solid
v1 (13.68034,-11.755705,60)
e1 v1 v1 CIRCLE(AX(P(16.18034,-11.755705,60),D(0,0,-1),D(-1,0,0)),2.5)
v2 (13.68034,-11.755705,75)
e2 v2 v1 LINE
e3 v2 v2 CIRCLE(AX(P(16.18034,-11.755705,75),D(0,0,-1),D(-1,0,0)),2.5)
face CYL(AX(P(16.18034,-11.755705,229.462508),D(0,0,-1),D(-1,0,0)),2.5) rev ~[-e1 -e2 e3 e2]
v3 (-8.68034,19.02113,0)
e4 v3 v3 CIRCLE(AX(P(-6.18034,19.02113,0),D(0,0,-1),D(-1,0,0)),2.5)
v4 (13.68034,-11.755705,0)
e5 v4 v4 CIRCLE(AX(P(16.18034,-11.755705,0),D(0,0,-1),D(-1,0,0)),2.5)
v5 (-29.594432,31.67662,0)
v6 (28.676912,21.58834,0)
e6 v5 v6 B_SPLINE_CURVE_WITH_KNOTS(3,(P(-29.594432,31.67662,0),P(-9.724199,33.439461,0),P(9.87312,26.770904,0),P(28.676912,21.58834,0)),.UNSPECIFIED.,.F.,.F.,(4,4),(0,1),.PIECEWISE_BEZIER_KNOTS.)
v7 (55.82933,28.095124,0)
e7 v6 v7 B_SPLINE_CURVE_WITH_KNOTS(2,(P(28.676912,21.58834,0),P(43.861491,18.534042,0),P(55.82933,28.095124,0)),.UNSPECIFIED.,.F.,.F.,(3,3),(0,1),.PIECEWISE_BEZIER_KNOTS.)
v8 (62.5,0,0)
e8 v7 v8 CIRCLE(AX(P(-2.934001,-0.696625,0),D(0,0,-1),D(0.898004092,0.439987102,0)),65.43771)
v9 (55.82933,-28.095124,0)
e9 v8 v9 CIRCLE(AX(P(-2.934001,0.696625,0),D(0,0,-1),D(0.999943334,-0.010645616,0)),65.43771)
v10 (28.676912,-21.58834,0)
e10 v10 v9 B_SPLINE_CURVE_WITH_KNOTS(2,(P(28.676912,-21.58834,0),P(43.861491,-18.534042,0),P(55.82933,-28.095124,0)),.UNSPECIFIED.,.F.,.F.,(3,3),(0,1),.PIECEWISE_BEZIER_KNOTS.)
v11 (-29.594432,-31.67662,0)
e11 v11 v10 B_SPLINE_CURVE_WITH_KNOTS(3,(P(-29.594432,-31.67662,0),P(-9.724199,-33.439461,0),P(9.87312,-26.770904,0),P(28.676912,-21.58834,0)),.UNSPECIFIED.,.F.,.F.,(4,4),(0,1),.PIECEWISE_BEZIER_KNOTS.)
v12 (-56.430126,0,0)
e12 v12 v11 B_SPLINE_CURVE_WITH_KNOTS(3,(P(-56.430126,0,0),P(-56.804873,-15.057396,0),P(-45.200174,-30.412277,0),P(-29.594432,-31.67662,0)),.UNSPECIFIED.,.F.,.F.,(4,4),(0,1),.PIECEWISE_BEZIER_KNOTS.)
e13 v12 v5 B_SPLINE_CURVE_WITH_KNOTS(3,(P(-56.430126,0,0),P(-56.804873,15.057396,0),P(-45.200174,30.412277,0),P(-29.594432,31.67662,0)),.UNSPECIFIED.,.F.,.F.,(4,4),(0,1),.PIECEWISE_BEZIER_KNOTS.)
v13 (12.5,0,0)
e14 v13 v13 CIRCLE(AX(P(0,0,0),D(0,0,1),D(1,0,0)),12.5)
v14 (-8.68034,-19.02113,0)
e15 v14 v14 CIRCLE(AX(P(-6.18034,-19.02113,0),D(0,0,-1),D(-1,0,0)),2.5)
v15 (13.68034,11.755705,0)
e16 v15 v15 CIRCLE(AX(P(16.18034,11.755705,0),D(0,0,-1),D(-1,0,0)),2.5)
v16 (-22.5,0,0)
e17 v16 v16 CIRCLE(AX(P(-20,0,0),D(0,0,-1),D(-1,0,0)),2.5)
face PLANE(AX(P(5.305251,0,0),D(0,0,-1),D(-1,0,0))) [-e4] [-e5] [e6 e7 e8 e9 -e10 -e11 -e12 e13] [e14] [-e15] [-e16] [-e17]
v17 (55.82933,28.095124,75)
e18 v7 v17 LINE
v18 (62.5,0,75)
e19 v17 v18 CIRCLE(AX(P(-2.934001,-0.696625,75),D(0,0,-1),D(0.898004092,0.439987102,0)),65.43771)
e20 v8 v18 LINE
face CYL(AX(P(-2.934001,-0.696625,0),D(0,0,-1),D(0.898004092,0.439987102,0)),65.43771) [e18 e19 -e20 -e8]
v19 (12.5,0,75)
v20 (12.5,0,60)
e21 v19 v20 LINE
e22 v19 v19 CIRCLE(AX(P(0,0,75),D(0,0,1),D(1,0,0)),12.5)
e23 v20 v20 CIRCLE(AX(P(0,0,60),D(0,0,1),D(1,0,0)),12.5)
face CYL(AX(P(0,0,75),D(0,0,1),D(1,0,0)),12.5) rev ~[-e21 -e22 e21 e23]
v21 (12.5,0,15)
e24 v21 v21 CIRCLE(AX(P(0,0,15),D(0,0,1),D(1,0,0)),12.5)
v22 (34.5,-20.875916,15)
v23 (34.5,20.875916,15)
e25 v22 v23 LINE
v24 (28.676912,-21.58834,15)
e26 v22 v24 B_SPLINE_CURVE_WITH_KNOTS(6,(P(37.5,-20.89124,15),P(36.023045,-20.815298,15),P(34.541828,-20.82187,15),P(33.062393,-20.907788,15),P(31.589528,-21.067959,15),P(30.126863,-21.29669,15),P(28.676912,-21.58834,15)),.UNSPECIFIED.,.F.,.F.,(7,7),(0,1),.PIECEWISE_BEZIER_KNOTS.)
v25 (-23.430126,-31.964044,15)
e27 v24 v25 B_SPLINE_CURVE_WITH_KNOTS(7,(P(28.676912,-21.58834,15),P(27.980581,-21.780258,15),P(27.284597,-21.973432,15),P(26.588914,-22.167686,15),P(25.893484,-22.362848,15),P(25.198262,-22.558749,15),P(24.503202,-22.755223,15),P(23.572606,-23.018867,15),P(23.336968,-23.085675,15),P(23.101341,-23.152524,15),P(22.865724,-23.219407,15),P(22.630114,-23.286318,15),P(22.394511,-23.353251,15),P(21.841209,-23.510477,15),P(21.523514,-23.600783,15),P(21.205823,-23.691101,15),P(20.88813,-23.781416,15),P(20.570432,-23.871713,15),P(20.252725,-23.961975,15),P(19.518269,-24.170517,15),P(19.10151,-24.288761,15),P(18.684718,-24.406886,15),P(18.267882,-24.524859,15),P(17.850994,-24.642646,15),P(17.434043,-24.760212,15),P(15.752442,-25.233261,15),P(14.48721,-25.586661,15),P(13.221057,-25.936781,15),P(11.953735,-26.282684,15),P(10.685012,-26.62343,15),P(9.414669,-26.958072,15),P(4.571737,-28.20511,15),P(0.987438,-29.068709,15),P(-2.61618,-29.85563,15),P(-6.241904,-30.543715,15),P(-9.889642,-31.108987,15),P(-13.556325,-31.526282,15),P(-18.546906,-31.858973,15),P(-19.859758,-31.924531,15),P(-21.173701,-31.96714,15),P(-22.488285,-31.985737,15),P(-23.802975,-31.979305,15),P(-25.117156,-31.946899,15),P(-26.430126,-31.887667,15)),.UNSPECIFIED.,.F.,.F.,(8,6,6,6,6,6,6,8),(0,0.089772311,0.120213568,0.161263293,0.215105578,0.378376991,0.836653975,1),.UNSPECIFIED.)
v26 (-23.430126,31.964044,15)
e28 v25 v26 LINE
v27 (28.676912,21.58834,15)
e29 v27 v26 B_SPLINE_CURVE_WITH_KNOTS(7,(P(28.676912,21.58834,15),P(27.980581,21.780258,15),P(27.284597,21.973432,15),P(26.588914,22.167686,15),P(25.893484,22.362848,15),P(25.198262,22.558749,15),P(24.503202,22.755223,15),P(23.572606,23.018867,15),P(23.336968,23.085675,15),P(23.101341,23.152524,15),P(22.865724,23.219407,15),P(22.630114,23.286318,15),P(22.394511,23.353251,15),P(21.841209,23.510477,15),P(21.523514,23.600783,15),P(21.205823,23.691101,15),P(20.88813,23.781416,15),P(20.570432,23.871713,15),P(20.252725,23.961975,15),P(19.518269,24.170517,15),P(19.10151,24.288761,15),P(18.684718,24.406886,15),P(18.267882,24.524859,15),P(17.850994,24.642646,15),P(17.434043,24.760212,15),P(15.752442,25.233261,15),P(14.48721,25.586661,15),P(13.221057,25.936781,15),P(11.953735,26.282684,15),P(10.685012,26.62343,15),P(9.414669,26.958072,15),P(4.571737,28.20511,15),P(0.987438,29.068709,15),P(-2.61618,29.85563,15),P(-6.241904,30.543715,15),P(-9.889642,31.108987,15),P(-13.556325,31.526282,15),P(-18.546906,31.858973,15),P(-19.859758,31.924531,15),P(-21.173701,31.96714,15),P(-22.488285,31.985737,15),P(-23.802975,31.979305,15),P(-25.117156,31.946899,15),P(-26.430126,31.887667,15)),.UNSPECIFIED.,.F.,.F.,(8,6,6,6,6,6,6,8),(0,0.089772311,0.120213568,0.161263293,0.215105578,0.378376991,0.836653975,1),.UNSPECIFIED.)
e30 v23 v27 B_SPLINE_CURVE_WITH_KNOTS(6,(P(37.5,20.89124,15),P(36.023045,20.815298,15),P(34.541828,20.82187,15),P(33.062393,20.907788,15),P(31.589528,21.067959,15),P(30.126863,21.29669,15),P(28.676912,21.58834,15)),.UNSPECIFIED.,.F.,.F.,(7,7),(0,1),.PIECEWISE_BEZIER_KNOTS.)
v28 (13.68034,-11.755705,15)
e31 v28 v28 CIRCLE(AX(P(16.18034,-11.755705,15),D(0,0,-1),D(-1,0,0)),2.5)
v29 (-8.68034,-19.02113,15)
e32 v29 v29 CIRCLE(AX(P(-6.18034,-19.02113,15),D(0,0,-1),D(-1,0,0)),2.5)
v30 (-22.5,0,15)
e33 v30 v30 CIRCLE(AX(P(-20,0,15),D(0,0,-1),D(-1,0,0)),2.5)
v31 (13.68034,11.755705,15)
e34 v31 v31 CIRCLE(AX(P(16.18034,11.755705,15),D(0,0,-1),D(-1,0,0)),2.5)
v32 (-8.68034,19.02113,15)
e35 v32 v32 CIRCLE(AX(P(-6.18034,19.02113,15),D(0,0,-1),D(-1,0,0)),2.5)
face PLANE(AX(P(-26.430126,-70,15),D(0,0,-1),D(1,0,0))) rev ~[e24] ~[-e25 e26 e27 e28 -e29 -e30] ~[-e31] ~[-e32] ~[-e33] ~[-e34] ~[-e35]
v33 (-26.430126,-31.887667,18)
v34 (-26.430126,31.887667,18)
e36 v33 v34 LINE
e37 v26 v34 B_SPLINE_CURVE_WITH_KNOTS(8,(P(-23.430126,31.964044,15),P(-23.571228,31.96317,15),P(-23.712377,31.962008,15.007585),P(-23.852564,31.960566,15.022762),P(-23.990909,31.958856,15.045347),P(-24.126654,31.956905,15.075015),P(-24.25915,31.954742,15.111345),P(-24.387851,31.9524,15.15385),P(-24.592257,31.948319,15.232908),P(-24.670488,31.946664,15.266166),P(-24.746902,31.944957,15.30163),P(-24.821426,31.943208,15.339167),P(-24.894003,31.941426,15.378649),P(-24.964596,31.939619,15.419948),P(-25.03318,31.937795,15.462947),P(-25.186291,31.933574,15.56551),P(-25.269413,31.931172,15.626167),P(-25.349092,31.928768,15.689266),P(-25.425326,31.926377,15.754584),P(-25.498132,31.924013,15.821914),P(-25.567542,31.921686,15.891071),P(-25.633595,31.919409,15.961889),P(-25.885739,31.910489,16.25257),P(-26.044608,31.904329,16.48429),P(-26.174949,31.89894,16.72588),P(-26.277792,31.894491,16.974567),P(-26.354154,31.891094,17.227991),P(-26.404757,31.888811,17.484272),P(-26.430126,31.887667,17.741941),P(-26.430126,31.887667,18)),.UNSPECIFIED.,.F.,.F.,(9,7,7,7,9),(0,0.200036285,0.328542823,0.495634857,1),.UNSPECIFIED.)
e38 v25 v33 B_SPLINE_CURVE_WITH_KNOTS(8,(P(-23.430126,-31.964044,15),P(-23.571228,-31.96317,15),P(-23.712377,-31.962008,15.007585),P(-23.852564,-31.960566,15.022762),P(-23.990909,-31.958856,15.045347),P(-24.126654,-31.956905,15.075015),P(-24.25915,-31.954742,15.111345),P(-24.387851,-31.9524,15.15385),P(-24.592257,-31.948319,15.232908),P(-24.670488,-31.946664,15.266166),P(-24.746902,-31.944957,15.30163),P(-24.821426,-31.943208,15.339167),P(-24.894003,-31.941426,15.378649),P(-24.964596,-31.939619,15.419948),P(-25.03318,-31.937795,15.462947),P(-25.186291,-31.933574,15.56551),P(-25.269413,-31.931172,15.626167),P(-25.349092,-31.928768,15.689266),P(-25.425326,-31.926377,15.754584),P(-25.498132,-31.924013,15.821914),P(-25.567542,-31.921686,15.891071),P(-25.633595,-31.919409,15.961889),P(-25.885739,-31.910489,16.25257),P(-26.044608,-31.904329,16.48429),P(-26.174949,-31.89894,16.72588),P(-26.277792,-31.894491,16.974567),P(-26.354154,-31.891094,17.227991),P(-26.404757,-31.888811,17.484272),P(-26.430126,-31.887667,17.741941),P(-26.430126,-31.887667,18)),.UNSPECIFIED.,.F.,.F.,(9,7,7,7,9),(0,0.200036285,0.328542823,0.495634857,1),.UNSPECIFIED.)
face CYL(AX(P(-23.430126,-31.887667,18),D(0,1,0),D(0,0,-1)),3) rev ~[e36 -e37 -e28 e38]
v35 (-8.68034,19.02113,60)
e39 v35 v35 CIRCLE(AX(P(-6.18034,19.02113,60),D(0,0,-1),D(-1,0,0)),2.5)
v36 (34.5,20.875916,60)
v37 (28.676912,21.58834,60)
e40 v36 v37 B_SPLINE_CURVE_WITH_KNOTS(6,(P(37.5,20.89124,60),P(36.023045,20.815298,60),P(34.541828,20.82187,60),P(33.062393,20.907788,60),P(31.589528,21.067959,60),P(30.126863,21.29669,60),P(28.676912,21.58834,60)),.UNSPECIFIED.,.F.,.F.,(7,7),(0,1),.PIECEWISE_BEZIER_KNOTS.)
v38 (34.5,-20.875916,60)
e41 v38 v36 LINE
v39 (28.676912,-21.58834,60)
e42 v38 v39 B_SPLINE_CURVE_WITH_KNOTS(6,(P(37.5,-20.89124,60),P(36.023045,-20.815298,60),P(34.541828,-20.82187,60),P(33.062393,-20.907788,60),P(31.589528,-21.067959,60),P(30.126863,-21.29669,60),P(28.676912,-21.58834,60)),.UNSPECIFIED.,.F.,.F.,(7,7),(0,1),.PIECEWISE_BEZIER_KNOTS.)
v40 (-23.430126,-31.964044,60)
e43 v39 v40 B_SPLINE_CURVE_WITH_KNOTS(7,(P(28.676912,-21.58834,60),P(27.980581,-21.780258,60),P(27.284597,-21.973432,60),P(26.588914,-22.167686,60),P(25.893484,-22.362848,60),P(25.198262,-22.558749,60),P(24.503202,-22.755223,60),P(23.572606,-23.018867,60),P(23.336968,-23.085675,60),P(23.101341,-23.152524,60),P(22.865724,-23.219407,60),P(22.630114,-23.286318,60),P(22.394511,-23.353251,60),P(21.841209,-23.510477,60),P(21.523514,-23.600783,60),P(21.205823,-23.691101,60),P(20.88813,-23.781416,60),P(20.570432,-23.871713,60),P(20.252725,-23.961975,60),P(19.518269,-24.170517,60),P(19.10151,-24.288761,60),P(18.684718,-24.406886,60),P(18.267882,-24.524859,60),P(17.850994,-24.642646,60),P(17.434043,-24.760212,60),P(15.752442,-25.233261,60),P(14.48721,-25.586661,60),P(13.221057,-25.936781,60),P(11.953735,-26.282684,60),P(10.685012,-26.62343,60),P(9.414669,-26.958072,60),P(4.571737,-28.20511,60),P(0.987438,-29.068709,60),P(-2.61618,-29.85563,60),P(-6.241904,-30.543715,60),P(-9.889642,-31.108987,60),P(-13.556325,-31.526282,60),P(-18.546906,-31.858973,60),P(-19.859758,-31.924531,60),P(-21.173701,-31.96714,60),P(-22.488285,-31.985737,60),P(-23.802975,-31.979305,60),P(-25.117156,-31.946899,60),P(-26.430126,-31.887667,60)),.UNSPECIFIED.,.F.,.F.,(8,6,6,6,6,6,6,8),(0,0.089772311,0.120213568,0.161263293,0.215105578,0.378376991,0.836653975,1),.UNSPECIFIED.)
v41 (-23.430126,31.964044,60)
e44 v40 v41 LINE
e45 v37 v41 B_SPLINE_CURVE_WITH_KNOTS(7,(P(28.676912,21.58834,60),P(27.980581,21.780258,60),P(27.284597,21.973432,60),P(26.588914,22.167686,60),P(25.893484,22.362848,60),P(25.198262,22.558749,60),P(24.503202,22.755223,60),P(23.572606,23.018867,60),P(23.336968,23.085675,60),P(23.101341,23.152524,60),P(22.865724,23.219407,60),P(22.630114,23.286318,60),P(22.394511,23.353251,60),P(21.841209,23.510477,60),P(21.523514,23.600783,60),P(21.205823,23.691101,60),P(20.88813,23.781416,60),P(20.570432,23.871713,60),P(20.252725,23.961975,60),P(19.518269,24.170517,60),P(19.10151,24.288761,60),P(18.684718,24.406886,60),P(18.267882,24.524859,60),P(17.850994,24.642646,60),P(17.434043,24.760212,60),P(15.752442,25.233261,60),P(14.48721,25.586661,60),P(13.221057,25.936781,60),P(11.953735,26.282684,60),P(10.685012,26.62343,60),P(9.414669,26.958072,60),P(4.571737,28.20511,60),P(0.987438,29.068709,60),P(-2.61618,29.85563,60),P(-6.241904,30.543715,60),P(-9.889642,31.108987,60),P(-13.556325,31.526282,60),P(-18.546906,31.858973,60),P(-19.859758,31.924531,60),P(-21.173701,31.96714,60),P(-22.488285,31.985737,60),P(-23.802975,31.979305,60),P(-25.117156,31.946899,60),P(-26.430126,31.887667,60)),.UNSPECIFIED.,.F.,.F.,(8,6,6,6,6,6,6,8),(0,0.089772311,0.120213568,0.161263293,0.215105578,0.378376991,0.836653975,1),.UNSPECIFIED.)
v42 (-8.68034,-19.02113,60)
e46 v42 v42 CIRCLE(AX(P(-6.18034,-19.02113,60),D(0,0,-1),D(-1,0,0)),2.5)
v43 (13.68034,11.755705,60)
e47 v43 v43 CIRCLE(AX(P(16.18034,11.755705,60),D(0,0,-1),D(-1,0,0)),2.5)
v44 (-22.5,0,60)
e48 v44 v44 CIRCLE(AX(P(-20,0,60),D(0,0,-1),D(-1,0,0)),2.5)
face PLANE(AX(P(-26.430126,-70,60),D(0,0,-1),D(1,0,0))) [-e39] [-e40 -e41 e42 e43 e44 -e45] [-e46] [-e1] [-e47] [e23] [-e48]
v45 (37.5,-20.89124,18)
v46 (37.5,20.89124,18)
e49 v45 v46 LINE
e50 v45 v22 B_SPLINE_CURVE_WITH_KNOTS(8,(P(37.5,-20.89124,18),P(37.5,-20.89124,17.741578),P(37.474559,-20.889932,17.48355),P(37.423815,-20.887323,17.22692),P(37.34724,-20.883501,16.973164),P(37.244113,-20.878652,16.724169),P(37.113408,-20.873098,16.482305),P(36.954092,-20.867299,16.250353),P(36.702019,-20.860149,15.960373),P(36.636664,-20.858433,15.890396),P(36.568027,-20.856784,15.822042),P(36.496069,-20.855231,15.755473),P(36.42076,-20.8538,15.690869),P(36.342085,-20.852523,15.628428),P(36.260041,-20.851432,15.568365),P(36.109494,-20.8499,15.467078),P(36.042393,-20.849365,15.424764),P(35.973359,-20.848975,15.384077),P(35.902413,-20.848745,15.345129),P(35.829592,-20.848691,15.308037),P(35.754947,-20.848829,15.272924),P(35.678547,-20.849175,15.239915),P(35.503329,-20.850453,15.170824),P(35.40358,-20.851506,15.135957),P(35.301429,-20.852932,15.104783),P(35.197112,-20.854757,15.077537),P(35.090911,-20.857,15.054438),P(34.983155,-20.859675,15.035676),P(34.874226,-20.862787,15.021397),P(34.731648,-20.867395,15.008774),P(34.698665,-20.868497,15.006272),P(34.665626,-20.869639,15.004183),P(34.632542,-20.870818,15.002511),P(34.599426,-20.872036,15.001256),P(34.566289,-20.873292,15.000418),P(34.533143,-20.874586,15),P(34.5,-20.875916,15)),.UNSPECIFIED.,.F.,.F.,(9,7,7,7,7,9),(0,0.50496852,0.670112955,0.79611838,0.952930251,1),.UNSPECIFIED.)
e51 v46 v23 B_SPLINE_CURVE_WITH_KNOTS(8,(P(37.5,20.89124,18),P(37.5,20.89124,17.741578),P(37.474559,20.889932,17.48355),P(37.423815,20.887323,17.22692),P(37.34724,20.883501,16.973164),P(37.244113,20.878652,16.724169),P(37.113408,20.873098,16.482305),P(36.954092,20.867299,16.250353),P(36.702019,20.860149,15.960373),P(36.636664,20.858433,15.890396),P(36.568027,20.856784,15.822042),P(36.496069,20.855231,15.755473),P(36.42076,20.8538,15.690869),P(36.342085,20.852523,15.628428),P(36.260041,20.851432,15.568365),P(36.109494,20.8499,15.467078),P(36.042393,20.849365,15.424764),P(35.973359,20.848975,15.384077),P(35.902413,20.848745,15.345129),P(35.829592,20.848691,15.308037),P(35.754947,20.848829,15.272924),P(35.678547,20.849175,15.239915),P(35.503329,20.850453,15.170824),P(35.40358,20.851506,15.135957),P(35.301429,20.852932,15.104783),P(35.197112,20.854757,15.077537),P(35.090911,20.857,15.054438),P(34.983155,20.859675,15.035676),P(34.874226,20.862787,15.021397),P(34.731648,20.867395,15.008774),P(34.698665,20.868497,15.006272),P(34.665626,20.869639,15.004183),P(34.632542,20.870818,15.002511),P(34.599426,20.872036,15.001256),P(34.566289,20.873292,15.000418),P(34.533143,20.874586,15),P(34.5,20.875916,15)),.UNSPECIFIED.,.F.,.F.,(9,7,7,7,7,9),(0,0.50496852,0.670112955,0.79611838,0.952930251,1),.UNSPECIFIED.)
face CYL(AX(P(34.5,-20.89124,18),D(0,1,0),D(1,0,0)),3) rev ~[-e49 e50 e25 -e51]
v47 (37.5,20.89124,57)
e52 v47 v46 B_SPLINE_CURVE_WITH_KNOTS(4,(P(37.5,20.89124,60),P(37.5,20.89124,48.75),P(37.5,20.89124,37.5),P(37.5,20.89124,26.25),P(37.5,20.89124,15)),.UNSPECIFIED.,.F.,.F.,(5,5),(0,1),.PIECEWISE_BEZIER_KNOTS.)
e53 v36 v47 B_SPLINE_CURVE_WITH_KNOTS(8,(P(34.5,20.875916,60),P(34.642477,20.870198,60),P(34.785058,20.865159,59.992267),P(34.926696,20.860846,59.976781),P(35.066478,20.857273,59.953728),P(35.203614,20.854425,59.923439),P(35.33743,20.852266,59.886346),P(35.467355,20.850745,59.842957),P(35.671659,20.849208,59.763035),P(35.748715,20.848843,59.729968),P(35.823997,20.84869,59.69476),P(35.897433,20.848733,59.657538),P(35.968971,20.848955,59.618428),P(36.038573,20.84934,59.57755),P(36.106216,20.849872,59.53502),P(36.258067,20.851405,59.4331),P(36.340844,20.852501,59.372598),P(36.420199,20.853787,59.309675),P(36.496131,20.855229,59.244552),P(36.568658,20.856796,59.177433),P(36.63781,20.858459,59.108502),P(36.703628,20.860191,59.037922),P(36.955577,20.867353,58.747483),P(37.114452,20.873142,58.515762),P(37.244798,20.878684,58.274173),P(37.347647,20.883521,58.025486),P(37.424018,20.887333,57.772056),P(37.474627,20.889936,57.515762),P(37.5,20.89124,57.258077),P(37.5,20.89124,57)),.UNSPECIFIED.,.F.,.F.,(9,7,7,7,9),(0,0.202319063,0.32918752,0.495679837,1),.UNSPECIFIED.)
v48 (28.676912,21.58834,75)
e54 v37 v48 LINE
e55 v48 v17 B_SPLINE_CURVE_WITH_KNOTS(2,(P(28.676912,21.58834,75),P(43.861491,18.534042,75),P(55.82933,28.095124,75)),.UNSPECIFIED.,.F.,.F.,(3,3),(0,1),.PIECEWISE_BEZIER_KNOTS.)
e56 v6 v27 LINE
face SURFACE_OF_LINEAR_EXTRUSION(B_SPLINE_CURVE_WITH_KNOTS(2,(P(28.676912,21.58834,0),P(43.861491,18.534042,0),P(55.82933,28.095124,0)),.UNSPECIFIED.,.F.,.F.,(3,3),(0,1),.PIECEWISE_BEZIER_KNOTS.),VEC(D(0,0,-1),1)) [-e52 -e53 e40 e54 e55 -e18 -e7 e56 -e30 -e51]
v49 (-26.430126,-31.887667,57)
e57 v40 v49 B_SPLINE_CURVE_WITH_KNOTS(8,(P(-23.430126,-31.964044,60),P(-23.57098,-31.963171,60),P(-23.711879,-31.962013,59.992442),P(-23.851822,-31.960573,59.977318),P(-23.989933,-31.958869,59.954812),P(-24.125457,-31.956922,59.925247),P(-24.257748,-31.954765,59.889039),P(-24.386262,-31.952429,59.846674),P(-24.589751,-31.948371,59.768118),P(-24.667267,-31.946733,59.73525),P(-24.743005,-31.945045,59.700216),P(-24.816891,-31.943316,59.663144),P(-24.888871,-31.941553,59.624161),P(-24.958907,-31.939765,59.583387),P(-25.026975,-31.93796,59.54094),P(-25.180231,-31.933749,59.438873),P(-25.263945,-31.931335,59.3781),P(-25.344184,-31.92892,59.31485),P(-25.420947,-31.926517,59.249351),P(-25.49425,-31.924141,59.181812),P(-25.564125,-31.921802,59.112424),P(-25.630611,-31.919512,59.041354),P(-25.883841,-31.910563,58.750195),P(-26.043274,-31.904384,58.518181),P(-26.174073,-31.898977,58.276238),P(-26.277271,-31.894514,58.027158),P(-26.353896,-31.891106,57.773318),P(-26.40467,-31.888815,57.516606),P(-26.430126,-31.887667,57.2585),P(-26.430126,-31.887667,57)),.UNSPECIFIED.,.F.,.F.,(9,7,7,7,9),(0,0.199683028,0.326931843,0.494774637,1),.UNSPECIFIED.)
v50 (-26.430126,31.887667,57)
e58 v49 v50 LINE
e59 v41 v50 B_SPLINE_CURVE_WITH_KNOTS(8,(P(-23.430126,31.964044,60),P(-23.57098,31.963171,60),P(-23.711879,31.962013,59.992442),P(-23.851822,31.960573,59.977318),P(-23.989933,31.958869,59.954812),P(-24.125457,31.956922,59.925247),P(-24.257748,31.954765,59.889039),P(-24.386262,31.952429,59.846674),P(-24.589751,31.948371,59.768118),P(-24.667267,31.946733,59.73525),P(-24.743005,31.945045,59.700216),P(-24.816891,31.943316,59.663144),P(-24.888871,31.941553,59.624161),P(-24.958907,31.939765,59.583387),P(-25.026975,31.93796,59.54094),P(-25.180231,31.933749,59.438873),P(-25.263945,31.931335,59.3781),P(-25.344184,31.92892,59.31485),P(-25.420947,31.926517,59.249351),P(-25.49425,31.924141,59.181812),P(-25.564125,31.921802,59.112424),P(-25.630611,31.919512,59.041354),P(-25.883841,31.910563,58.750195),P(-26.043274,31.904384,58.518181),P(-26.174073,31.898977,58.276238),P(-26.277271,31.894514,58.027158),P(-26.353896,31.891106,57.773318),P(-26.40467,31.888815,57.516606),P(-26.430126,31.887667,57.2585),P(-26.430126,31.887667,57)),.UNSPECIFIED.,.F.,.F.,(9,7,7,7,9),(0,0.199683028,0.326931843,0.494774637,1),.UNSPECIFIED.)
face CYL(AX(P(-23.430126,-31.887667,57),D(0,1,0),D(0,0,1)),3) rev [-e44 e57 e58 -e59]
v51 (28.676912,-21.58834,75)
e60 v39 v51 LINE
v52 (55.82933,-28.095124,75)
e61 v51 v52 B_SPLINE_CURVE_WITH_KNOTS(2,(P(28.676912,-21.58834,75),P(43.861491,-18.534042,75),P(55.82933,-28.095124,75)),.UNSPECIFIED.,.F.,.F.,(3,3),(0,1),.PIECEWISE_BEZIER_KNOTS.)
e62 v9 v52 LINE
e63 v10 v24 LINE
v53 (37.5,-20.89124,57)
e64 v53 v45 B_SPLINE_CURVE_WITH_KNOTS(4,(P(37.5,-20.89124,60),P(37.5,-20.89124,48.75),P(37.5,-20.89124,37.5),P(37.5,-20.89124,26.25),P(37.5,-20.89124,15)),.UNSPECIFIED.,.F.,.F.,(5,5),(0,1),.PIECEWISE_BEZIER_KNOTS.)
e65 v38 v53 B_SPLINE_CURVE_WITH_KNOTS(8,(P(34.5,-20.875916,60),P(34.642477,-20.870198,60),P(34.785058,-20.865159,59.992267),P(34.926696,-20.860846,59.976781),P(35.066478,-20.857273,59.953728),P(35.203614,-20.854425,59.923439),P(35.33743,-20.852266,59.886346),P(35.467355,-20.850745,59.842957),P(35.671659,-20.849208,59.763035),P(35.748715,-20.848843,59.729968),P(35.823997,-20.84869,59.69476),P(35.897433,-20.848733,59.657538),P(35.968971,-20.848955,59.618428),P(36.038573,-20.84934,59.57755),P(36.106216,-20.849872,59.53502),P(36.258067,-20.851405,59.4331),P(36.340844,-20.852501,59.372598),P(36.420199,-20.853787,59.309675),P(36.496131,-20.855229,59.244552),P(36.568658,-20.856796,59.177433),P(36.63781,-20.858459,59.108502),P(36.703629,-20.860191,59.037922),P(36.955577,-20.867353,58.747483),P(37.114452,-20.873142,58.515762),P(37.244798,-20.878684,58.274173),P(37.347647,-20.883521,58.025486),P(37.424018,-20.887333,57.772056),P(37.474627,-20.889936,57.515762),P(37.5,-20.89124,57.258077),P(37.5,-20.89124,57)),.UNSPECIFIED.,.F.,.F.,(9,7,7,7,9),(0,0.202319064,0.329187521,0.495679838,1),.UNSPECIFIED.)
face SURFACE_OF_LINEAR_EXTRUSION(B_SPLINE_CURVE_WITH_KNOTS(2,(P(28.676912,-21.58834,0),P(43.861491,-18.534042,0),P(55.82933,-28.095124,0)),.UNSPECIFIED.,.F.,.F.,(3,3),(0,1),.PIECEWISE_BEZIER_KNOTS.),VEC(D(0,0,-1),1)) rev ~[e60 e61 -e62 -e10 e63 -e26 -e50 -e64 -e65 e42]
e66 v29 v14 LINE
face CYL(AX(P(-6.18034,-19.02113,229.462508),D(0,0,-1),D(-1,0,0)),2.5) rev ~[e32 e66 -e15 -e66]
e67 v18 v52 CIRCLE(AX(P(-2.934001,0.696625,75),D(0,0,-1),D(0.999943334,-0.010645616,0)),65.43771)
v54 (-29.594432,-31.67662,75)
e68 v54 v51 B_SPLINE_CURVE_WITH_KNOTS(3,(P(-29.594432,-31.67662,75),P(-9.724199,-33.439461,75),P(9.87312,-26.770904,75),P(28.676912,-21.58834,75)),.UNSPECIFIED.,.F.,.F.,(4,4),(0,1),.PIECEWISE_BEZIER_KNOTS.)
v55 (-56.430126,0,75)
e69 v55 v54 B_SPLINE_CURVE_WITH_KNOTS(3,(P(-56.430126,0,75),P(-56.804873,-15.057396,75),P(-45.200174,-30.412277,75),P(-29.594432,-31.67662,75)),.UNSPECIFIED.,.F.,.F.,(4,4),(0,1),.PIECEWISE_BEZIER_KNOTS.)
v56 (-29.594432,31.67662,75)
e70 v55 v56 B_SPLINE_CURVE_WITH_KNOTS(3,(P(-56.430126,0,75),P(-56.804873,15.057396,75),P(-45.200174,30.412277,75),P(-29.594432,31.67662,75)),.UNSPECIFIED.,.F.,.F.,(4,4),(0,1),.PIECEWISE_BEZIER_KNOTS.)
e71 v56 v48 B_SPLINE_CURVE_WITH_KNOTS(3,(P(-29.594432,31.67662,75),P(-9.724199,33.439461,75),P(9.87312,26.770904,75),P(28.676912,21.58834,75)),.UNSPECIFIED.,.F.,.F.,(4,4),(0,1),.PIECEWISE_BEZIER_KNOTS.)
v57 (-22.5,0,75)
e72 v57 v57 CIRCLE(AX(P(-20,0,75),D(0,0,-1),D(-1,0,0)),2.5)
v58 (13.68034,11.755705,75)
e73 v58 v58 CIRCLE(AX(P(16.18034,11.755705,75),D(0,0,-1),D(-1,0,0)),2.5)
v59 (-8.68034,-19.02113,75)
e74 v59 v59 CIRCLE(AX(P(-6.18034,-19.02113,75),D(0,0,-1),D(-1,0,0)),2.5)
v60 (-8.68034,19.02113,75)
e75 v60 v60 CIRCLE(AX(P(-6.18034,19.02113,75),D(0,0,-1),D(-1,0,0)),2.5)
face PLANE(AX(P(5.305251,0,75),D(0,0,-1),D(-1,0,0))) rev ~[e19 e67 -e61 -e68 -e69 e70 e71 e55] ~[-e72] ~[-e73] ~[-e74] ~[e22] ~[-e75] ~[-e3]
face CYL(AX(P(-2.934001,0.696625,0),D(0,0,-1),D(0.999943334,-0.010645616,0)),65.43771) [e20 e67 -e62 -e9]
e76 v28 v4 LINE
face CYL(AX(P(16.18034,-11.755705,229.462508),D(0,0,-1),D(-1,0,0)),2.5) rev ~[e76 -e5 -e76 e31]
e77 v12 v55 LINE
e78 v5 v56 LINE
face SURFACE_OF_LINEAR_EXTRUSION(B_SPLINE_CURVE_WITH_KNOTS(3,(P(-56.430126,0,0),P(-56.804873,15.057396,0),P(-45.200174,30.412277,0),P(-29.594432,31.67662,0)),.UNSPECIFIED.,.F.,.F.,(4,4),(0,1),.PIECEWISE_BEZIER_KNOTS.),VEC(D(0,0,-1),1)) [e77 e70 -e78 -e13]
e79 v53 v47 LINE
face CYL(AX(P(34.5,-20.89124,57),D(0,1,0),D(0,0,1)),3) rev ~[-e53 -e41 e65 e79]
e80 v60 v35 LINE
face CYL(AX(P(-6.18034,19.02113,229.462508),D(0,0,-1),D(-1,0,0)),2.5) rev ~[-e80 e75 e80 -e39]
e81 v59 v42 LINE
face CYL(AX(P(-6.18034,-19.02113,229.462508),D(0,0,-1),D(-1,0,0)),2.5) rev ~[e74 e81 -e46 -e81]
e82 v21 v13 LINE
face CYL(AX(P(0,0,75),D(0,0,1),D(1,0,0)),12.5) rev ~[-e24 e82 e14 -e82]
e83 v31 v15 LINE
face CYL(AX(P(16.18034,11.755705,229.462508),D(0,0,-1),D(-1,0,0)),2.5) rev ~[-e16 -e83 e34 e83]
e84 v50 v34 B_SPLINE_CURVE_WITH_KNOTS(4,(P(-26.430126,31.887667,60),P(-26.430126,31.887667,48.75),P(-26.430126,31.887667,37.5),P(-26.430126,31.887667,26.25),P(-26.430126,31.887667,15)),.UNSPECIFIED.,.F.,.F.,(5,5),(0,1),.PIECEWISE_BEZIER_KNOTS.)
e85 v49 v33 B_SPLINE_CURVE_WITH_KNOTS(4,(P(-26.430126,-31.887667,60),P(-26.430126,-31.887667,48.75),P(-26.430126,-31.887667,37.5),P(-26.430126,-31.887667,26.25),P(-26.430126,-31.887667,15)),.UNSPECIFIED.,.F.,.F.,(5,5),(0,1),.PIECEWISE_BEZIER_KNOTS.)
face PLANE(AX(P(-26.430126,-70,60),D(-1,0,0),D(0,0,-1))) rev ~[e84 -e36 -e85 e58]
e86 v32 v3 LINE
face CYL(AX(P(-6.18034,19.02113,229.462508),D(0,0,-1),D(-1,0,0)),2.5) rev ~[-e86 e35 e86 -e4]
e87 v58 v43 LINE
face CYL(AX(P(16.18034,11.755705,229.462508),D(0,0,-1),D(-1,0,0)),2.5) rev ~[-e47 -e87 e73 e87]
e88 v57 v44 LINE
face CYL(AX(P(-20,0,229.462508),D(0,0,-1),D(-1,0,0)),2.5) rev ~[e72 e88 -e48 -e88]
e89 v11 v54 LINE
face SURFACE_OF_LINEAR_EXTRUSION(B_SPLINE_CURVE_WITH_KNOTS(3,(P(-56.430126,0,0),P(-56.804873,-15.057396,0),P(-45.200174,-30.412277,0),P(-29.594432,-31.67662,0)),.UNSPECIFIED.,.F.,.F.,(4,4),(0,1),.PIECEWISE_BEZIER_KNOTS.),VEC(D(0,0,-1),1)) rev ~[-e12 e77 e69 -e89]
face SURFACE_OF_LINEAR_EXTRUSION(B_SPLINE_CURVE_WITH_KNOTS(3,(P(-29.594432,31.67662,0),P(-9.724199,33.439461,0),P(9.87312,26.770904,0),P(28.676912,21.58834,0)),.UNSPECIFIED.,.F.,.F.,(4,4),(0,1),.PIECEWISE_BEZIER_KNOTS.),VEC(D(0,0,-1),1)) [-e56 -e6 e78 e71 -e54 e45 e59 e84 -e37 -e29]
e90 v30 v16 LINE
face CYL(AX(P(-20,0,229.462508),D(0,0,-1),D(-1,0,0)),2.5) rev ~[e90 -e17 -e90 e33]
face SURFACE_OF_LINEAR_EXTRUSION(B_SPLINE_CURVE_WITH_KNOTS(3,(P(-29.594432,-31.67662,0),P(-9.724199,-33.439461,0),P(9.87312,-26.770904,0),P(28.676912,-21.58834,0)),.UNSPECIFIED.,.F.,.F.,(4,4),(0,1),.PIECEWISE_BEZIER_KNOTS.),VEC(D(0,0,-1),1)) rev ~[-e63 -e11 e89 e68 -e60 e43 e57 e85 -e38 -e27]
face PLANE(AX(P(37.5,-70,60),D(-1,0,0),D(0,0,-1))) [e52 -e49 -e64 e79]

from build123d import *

# Parameters (mm, degrees)
RESSALTO_EXTRUS_O1_DEPTH                = 75
CORTE_EXTRUS_O1_DEPTH                   = 70
CORTE_EXTRUS_O1_DEPTH_BACK              = 70
ESBO_O2_W                               = 63.930126489
ESBO_O2_H                               = 45
ESBO_O3_R                               = 12.5
CORTE_EXTRUS_O2_DEPTH                   = 103.728030149
FILETE1_R                               = 3
BROCA_DE_ROSQUEAR_PARA_TARRAXA_DE_M61_D = 5


with BuildPart() as part:
    # Esboço1 → Ressalto-extrusão1 (new body)
    with BuildSketch(Plane.XY):
        with BuildLine():
            ThreePointArc((55.829329515, 28.095123526), (60.733716713, 14.420104299), (62.5, 0))
            ThreePointArc((62.5, 0), (60.733716713, -14.420104299), (55.829329515, -28.095123526))
            add(Edge.make_bspline(
                [(28.676911595, -21.588340477), (43.861491247, -18.534041768), (55.829329515, -28.095123526)],
                knots=[0, 0, 0, 1, 1, 1], degree=2))
            add(Edge.make_bspline(
                [(-29.594432007, -31.676619774), (-9.724198858, -33.439461038), (9.873119669, -26.770904045), (28.676911595, -21.588340477)],
                knots=[0, 0, 0, 0, 1, 1, 1, 1], degree=3))
            add(Edge.make_bspline(
                [(-56.430126489, 0), (-56.804873179, -15.057396007), (-45.200173771, -30.412276657), (-29.594432007, -31.676619774)],
                knots=[0, 0, 0, 0, 1, 1, 1, 1], degree=3))
            add(Edge.make_bspline(
                [(-56.430126489, 0), (-56.804873179, 15.057396007), (-45.200173771, 30.412276657), (-29.594432007, 31.676619774)],
                knots=[0, 0, 0, 0, 1, 1, 1, 1], degree=3))
            add(Edge.make_bspline(
                [(-29.594432007, 31.676619774), (-9.724198858, 33.439461038), (9.873119669, 26.770904045), (28.676911595, 21.588340477)],
                knots=[0, 0, 0, 0, 1, 1, 1, 1], degree=3))
            add(Edge.make_bspline(
                [(28.676911595, 21.588340477), (43.861491247, 18.534041768), (55.829329515, 28.095123526)],
                knots=[0, 0, 0, 1, 1, 1], degree=2))
        make_face()
    extrude(amount=RESSALTO_EXTRUS_O1_DEPTH)

    # Esboço2 → Corte-extrusão1 (cut, two sides: drawn at the far end of the back side and taken through both)
    with BuildSketch(Plane(origin=(0, 0, 0), x_dir=(1, 0, 0), z_dir=(0, 1, 0)).offset(-CORTE_EXTRUS_O1_DEPTH_BACK)):
        with Locations((5.534936755, -37.5)):
            Rectangle(ESBO_O2_W, ESBO_O2_H)
    extrude(amount=CORTE_EXTRUS_O1_DEPTH + CORTE_EXTRUS_O1_DEPTH_BACK, mode=Mode.SUBTRACT)

    # Esboço3 → Corte-extrusão2 (cut, through all)
    with BuildSketch(Plane.XY.offset(75)):
        Circle(ESBO_O3_R)
    extrude(amount=-CORTE_EXTRUS_O2_DEPTH, mode=Mode.SUBTRACT)

    # Filete1
    filete1_edges = [part.edges().sort_by_distance(p)[0] for p in [
        (37.5, 0, 60),
        (37.5, 0, 15),
        (-26.430126489, 0, 60),
        (-26.430126489, 0, 15),
    ]]
    fillet(filete1_edges, radius=FILETE1_R)

    # Broca de rosquear para tarraxa de M61 (through all)
    with Locations(Plane.XY.offset(75)):
        with Locations((-6.180339887, 19.021130326), (16.180339887, 11.755705046), (16.180339888, -11.755705046), (-6.180339887, -19.021130326), (-20, 0)):
            Hole(BROCA_DE_ROSQUEAR_PARA_TARRAXA_DE_M61_D / 2)


solid = part.part
